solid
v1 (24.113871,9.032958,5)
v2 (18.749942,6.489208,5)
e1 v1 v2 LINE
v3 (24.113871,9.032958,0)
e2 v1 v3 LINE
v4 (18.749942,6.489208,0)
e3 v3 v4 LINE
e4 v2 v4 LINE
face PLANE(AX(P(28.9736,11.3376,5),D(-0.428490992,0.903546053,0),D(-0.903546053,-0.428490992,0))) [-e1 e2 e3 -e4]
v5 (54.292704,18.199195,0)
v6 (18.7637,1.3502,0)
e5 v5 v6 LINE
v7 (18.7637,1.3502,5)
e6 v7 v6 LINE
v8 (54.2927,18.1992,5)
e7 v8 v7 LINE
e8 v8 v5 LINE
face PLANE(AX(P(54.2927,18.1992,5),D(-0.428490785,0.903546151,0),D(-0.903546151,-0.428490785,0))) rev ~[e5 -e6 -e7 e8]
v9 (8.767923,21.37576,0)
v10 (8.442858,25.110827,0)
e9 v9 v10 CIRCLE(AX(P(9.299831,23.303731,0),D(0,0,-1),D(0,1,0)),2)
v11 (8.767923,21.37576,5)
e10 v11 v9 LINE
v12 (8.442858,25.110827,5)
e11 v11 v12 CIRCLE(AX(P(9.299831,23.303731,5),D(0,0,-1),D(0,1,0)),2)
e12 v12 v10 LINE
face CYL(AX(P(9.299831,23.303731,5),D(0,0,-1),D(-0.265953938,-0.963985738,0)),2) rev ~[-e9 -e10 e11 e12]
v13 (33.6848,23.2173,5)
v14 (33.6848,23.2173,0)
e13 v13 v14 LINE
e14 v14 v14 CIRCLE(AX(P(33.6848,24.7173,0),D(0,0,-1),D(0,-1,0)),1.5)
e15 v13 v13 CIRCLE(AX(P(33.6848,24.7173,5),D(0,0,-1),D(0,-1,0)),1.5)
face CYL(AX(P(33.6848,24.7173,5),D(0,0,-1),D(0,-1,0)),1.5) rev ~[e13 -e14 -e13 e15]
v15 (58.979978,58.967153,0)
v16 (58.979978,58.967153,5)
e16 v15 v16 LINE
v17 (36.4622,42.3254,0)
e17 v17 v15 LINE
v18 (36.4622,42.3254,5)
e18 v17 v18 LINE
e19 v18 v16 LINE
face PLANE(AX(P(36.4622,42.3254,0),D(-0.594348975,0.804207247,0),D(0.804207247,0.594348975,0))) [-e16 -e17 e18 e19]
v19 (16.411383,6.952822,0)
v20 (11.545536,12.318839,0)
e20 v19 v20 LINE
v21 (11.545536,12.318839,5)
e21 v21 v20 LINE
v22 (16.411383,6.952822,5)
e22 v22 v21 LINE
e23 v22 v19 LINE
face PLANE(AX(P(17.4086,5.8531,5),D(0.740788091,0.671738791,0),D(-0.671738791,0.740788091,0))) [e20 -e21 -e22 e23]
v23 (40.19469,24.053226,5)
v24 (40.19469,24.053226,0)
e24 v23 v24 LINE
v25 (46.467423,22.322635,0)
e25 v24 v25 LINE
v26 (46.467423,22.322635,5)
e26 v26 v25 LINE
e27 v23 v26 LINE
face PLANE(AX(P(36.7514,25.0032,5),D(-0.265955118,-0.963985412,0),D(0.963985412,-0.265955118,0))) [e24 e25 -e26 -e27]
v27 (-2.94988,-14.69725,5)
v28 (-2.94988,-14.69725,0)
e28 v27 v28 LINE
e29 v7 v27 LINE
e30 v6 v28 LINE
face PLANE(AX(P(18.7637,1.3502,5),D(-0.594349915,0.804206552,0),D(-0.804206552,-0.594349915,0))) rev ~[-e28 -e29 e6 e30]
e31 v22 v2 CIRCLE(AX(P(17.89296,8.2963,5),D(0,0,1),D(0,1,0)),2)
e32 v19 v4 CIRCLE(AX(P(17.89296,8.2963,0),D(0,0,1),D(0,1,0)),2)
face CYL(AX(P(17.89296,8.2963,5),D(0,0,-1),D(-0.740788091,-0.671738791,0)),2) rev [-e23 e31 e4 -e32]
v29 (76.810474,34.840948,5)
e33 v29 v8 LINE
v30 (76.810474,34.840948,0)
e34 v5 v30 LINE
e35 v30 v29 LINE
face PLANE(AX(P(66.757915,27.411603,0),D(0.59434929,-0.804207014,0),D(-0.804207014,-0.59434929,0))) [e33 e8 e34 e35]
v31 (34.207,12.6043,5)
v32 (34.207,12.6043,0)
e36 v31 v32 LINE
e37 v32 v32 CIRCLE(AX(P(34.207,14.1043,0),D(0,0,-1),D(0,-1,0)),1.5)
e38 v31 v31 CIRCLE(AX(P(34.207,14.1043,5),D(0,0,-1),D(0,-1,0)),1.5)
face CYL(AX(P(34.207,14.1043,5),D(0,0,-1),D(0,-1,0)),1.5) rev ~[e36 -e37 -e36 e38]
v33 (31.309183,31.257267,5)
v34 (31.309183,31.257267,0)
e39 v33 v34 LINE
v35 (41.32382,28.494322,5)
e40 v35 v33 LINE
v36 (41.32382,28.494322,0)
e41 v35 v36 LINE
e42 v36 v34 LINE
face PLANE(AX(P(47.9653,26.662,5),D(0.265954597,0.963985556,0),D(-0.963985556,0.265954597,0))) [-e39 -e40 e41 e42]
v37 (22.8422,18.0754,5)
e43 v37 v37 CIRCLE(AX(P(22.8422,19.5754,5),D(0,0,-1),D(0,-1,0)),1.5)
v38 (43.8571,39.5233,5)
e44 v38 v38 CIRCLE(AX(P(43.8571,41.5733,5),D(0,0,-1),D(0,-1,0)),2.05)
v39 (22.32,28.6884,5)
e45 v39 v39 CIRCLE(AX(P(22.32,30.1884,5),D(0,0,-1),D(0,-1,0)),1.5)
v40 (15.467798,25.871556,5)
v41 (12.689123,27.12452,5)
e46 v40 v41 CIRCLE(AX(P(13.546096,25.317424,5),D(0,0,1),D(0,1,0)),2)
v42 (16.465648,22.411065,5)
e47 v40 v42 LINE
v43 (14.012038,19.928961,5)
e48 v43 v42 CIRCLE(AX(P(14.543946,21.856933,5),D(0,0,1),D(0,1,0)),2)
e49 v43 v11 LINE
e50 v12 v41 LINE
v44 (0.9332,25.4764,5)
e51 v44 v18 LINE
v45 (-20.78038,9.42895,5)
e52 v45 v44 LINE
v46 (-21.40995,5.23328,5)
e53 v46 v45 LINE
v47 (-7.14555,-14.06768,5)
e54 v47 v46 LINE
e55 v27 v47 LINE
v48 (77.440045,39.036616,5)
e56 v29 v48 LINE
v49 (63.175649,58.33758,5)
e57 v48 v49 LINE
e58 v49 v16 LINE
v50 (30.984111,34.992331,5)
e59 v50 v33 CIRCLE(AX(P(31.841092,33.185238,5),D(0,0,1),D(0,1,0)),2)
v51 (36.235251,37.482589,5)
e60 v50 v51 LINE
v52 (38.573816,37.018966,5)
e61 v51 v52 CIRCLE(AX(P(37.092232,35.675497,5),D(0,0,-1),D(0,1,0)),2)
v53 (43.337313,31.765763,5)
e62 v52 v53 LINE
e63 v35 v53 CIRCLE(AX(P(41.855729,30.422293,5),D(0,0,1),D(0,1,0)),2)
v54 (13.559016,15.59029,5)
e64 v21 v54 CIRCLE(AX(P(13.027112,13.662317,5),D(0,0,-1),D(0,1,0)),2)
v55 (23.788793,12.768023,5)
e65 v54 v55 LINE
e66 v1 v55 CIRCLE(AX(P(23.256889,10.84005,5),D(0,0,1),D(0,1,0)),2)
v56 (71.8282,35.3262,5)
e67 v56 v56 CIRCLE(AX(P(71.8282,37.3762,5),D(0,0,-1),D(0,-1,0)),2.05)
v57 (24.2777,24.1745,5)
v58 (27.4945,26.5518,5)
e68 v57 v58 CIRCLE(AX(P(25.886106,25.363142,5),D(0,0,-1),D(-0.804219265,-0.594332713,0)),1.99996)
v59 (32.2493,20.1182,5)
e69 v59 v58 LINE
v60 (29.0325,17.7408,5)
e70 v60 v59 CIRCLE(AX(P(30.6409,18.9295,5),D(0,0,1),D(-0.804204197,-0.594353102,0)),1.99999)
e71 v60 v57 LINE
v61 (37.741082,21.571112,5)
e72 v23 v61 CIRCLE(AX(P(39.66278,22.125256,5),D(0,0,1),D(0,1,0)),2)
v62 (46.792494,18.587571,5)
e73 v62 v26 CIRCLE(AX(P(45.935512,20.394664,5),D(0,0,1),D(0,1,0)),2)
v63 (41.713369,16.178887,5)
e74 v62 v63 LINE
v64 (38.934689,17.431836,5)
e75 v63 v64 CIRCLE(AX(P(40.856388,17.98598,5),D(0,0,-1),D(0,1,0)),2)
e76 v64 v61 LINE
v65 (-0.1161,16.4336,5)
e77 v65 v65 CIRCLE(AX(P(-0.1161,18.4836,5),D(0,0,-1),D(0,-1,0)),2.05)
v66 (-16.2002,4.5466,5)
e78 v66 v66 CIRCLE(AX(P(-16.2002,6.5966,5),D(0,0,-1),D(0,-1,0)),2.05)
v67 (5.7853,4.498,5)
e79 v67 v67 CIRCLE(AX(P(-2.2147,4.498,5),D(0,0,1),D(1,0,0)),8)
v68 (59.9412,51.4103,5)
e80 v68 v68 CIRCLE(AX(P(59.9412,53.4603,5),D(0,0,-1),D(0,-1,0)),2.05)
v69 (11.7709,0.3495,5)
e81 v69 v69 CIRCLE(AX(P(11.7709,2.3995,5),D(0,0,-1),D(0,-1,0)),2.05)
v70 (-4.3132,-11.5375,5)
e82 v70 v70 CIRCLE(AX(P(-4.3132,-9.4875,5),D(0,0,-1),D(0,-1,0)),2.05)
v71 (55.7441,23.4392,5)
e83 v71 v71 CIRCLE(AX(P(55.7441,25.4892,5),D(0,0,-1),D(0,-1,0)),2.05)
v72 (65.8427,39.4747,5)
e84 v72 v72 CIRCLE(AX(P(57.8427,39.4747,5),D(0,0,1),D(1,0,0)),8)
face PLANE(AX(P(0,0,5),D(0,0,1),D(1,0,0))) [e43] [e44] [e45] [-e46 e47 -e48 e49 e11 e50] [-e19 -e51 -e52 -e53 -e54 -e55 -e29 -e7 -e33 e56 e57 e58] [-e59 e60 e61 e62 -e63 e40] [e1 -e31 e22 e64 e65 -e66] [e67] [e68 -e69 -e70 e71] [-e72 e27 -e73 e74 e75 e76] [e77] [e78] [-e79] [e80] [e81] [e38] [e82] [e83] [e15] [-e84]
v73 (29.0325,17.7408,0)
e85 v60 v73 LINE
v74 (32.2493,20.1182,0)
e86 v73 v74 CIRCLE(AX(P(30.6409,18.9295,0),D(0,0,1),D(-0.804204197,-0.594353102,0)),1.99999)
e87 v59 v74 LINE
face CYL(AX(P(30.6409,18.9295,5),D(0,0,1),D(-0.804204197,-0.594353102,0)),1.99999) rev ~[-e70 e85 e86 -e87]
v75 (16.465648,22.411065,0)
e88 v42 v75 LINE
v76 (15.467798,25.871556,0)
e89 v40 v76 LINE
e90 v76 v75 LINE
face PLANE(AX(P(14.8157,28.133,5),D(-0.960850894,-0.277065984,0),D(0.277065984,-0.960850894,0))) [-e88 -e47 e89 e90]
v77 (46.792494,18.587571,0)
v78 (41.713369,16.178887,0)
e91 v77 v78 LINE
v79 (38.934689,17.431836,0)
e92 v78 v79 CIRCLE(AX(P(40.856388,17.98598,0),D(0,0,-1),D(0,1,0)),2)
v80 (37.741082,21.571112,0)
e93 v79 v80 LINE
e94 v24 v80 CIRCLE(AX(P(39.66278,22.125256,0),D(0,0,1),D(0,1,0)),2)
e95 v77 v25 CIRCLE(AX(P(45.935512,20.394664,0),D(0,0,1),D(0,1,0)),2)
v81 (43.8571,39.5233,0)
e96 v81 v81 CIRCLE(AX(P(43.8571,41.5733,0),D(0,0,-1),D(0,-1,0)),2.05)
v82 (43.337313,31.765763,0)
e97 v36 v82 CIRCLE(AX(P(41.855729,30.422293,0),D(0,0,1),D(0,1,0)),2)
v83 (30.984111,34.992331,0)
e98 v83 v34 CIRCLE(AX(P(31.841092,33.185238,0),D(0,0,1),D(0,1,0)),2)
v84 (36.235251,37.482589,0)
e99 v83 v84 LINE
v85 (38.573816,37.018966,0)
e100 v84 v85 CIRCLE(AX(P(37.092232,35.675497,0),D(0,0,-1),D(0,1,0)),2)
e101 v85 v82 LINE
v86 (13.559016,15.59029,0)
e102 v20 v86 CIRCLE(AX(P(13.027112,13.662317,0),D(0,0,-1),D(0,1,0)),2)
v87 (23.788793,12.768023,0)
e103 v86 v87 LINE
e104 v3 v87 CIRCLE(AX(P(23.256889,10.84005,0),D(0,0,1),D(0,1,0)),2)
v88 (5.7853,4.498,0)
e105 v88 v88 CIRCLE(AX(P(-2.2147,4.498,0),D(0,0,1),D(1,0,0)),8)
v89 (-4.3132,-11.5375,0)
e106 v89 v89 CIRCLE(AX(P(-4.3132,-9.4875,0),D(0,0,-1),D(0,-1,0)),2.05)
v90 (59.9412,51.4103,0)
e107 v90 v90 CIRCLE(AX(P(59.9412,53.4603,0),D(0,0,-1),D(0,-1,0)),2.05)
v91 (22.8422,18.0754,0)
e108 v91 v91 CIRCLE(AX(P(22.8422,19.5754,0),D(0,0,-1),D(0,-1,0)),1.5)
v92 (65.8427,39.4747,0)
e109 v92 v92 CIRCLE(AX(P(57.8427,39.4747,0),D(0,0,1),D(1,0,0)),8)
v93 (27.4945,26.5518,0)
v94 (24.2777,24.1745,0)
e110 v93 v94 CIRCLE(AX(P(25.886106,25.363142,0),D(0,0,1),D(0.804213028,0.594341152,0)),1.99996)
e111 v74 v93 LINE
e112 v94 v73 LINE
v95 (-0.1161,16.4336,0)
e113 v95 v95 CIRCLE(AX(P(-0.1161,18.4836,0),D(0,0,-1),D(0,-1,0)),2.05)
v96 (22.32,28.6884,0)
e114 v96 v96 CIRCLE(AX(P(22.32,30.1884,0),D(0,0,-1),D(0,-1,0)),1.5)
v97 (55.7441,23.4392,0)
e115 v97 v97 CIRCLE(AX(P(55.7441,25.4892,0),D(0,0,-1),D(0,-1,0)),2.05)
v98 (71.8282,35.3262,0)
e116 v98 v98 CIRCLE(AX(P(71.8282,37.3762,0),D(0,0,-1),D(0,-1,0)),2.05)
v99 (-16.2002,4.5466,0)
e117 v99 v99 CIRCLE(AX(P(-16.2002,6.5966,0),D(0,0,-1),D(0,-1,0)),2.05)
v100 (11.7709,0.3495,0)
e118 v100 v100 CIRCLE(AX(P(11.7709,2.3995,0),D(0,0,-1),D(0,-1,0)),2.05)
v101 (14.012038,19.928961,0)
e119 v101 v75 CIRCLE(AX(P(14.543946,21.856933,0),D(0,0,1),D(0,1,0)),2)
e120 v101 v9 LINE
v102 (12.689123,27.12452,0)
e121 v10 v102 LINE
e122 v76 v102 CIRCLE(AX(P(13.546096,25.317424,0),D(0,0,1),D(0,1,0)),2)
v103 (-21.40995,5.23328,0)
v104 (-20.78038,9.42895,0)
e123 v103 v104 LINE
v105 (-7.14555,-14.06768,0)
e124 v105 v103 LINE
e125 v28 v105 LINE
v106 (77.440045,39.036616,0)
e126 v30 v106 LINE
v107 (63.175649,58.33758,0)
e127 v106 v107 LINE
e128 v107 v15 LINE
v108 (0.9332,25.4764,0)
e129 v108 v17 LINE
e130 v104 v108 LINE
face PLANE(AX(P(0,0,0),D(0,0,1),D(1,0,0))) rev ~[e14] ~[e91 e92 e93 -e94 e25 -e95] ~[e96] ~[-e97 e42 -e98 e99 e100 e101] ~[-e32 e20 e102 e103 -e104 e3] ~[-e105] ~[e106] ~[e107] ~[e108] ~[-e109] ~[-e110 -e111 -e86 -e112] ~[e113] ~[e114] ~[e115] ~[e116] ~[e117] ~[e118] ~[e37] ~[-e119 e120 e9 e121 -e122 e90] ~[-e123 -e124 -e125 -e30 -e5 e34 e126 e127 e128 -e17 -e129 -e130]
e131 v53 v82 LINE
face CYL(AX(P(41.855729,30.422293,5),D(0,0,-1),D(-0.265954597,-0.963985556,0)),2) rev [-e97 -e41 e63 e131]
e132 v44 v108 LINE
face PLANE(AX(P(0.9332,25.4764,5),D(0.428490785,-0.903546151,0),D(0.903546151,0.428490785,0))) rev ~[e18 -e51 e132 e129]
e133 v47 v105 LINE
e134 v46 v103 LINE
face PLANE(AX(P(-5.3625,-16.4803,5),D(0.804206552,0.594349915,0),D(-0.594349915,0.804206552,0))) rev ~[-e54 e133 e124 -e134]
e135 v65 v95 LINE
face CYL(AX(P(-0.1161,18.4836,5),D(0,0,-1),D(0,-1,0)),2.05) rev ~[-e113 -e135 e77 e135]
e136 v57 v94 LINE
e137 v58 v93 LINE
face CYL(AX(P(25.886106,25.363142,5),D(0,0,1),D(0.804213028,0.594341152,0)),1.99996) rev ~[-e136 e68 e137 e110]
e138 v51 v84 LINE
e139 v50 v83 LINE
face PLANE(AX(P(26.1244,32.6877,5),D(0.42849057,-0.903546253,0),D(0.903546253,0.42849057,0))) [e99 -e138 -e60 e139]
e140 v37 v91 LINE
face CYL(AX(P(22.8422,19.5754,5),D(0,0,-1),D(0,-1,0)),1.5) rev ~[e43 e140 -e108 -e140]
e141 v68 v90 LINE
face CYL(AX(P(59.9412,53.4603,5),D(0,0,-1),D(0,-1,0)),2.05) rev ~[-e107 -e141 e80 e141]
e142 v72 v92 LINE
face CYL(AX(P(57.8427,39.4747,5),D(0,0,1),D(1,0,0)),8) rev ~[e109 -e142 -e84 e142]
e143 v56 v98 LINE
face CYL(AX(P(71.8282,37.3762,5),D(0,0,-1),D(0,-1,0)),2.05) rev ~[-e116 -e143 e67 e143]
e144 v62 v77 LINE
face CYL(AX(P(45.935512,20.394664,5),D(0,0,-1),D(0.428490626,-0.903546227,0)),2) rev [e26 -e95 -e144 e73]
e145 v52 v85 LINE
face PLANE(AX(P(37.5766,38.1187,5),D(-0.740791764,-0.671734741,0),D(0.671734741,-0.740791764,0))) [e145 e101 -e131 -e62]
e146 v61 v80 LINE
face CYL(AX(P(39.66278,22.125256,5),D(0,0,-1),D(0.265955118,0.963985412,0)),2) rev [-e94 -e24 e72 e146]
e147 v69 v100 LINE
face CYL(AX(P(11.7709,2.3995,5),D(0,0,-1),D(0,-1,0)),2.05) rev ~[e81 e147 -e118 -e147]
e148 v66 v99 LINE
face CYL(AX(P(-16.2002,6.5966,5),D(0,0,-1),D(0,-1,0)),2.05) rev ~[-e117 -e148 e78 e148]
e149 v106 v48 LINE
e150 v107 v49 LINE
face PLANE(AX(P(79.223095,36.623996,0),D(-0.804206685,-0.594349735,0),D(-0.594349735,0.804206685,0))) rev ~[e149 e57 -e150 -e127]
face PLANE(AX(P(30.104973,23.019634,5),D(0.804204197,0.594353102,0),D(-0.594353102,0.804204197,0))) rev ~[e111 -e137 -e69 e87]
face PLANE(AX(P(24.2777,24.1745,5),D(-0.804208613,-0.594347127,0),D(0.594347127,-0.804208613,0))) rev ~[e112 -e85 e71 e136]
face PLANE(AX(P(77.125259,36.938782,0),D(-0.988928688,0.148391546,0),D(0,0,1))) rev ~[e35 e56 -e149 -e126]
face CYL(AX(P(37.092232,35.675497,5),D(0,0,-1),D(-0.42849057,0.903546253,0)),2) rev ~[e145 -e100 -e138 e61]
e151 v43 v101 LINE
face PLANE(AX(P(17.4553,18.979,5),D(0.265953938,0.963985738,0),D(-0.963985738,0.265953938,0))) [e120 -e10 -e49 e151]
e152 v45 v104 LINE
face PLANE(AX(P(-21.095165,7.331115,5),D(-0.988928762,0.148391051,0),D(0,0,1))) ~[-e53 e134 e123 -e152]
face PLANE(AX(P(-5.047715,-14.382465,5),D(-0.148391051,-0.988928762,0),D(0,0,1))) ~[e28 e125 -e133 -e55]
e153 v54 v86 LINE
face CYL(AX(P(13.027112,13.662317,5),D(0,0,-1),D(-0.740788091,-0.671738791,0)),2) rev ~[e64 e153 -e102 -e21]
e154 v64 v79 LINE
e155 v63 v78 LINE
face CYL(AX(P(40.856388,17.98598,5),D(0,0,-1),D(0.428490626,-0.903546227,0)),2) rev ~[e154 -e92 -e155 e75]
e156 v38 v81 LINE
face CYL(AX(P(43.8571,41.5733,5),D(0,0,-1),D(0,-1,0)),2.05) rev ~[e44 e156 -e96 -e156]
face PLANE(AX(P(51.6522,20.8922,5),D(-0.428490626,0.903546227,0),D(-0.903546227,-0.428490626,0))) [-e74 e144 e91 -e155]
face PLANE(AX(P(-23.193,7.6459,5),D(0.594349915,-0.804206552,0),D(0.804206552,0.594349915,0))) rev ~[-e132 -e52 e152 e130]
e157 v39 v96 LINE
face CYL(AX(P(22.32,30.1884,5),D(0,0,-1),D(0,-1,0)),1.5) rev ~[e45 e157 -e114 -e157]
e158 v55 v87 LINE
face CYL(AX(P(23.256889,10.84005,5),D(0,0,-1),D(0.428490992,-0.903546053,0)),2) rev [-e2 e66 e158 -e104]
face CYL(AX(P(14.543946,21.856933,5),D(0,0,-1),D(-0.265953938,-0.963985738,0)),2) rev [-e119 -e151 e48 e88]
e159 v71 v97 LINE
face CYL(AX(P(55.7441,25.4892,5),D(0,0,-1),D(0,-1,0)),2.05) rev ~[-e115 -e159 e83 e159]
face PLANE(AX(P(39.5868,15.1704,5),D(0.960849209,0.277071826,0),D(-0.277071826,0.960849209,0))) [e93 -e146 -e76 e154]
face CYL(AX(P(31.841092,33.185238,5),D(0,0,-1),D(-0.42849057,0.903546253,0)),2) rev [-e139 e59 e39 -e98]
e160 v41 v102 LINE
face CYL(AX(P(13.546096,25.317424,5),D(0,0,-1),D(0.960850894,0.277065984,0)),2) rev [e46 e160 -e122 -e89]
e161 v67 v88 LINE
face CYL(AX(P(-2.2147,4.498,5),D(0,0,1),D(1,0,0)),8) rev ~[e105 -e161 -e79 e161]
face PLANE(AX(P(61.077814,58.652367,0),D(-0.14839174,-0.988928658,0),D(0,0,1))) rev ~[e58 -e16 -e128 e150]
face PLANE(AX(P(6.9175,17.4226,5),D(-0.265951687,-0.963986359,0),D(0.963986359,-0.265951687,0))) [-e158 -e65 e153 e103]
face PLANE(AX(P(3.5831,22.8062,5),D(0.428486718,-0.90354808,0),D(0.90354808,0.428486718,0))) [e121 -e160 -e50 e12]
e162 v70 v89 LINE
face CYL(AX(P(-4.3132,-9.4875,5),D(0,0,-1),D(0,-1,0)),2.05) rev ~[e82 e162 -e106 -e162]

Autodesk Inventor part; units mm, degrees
ref_plane "YZ Plane" through (0, 0, 0) normal (1, 0, 0) x (0, 1, 0)
ref_plane "XZ Plane" through (0, 0, 0) normal (0, 1, 0) x (-1, 0, 0)
ref_plane "XY Plane" through (0, 0, 0) normal (0, 0, 1) x (1, 0, 0)
sketch "Sketch1" plane through (0, 0, 0) normal (0, 0, 1) x (1, 0, 0)
  line L0 (79.7735, 25.7797) -> (84.0795, 21.6015) projected
  arc A0 (79.9013, 17.2954) -> (84.0795, 21.6015) centre (81.9904, 19.4484) ccw projected
  line L1 (79.9013, 17.2954) -> (75.5952, 21.4737) projected
  arc A1 (79.7735, 25.7797) -> (75.5952, 21.4737) centre (77.6844, 23.6267) ccw projected
  arc A2 (67.2283, 9.1476) -> (72.5711, 11.878) centre (69.8997, 10.5128) ccw projected
  line L2 (67.2283, 9.1476) -> (64.4979, 14.4903) projected
  arc A3 (69.8406, 17.2207) -> (64.4979, 14.4903) centre (67.1692, 15.8555) ccw projected
  line L3 (69.8406, 17.2207) -> (72.5711, 11.878) projected
  circle A4 centre (74.8858, 2.9538) radius 2.075 projected
  circle A5 centre (87.7531, 12.4634) radius 2.075 projected
  circle A6 centre (97.4816, -67.9698) radius 1.5 projected
  circle A7 centre (150.7021, -18.086) radius 1.5 projected
  circle A8 centre (148.9214, -29.9532) radius 1.5 projected
  circle A9 centre (85.6144, -66.1891) radius 1.5 projected
  arc A10 (80.4821, -2.1431) -> (77.7938, -6.6113) centre (99.1499, -16.4177) ccw projected
  arc A11 (83.0041, -2.3614) -> (80.4821, -2.1431) centre (81.6737, -3.0542) ccw projected
  line L4 (85.542, -7.2347) -> (83.0041, -2.3614) projected
  arc A12 (84.6624, -8.6966) -> (85.542, -7.2347) centre (84.655, -7.6966) ccw projected
  line L5 (79.168, -8.7372) -> (84.6624, -8.6966) projected
  arc A13 (77.7938, -6.6113) -> (79.168, -8.7372) centre (79.1569, -7.2373) ccw projected
  arc A14 (113.6374, -24.1387) -> (112.7579, -25.6006) centre (113.6448, -25.1387) ccw projected
  line L6 (119.1319, -24.0981) -> (113.6374, -24.1387) projected
  arc A15 (120.5061, -26.224) -> (119.1319, -24.0981) centre (119.1429, -25.5981) ccw projected
  arc A16 (117.8177, -30.6922) -> (120.5061, -26.224) centre (99.1499, -16.4177) ccw projected
  arc A17 (115.2958, -30.4739) -> (117.8177, -30.6922) centre (116.6262, -29.7811) ccw projected
  line L7 (112.7579, -25.6006) -> (115.2958, -30.4739) projected
  arc A18 (85.0937, -32.5635) -> (84.8754, -35.0855) centre (85.7865, -33.8939) ccw projected
  line L8 (89.967, -30.0256) -> (85.0937, -32.5635) projected
  arc A19 (91.4289, -30.9052) -> (89.967, -30.0256) centre (90.4289, -30.9125) ccw projected
  line L9 (91.4695, -36.3996) -> (91.4289, -30.9052) projected
  arc A20 (89.3436, -37.7738) -> (91.4695, -36.3996) centre (89.9695, -36.4107) ccw projected
  arc A21 (84.8754, -35.0855) -> (89.3436, -37.7738) centre (99.1499, -16.4177) ccw projected
  arc A22 (77.7938, -17.8952) -> (75.8562, -19.5241) centre (77.343, -19.3258) ccw projected
  line L10 (83.0344, -19.5466) -> (77.7938, -17.8952) projected
  arc A23 (83.4461, -21.2023) -> (83.0344, -19.5466) centre (82.7338, -20.5004) ccw projected
  line L11 (79.5897, -25.1161) -> (83.4461, -21.2023) projected
  arc A24 (77.1147, -24.5846) -> (79.5897, -25.1161) centre (78.5212, -24.0633) ccw projected
  arc A25 (75.8562, -19.5241) -> (77.1147, -24.5846) centre (99.1499, -16.4177) ccw projected
  arc A26 (122.4437, -13.3112) -> (121.1852, -8.2507) centre (99.1499, -16.4177) ccw projected
  arc A27 (120.506, -14.9401) -> (122.4437, -13.3112) centre (120.9569, -13.5095) ccw projected
  line L12 (115.2655, -13.2887) -> (120.506, -14.9401) projected
  arc A28 (114.8538, -11.6331) -> (115.2655, -13.2887) centre (115.5661, -12.3349) ccw projected
  line L13 (118.7102, -7.7192) -> (114.8538, -11.6331) projected
  arc A29 (121.1852, -8.2507) -> (118.7102, -7.7192) centre (119.7787, -8.772) ccw projected
  arc A30 (103.9345, -32.1215) -> (102.2789, -32.5332) centre (103.2327, -32.8338) ccw projected
  line L14 (107.8484, -35.9779) -> (103.9345, -32.1215) projected
  arc A31 (107.3169, -38.4529) -> (107.8484, -35.9779) centre (106.7956, -37.0464) ccw projected
  arc A32 (102.2564, -39.7114) -> (107.3169, -38.4529) centre (99.1499, -16.4177) ccw projected
  arc A33 (100.6275, -37.7738) -> (102.2564, -39.7114) centre (102.0581, -38.2246) ccw projected
  line L15 (102.2789, -32.5332) -> (100.6275, -37.7738) projected
  arc A34 (113.4245, 2.2501) -> (108.9563, 4.9385) centre (99.1499, -16.4177) ccw projected
  arc A35 (113.2062, -0.2718) -> (113.4245, 2.2501) centre (112.5134, 1.0586) ccw projected
  line L16 (108.3329, -2.8097) -> (113.2062, -0.2718) projected
  arc A36 (106.871, -1.9302) -> (108.3329, -2.8097) centre (107.871, -1.9228) ccw projected
  line L17 (106.8304, 3.5643) -> (106.871, -1.9302) projected
  arc A37 (108.9563, 4.9385) -> (106.8304, 3.5643) centre (108.3303, 3.5754) ccw projected
  line L18 (90.4515, 3.1426) -> (94.3653, -0.7138) projected
  arc A38 (90.983, 5.6176) -> (90.4515, 3.1426) centre (91.5043, 4.2111) ccw projected
  arc A39 (96.0435, 6.8761) -> (90.983, 5.6176) centre (99.1499, -16.4177) ccw projected
  arc A40 (97.6724, 4.9384) -> (96.0435, 6.8761) centre (96.2417, 5.3893) ccw projected
  line L19 (96.021, -0.3021) -> (97.6724, 4.9384) projected
  arc A41 (94.3653, -0.7138) -> (96.021, -0.3021) centre (95.0672, -0.0015) ccw projected
  circle A42 centre (111.213, -7.5024) radius 1.5 projected
  circle A43 centre (96.7757, -32.2405) radius 2 projected
  circle A44 centre (87.0868, -25.3329) radius 1.5 projected
  circle A45 centre (114.9728, -18.7919) radius 2 projected
  circle A46 centre (101.5242, -0.5948) radius 2 projected
  circle A47 centre (83.3271, -14.0434) radius 2 projected
  circle A48 centre (108.0652, -28.4808) radius 1.5 projected
  circle A49 centre (90.2347, -4.3545) radius 1.5 projected
  circle A50 centre (99.1499, -16.4177) radius 12 projected
  circle A51 centre (57.8427, 39.4747) radius 8 projected
  arc A52 (125.5376, -7.0532) -> (105.1801, 10.9253) centre (99.1499, -16.4177) ccw projected
  line L20 (105.1801, 10.9253) -> (80.5607, 34.8141) projected
  line L21 (80.5607, 34.8141) -> (61.3926, 60.7502) projected
  line L22 (36.4622, 42.3254) -> (61.3926, 60.7502) projected
  line L23 (36.4622, 42.3254) -> (55.6303, 16.3893) projected
  line L24 (55.6303, 16.3893) -> (71.2413, -14.1572) projected
  arc A53 (71.2413, -14.1572) -> (82.4532, -38.8947) centre (99.1499, -16.4177) ccw projected
  arc A54 (84.8089, -44.6016) -> (82.4532, -38.8947) centre (78.8753, -43.7112) ccw projected
  line L25 (84.8089, -44.6016) -> (81.0991, -69.3248) projected
  line L26 (81.0991, -69.3248) -> (100.8777, -72.2926) projected
  line L27 (100.8777, -72.2926) -> (104.5875, -47.5694) projected
  arc A55 (108.5144, -42.8053) -> (104.5875, -47.5694) centre (110.521, -48.4598) ccw projected
  arc A56 (108.5144, -42.8053) -> (121.627, -33.1144) centre (99.1499, -16.4177) ccw projected
  arc A57 (127.3339, -30.7587) -> (121.627, -33.1144) centre (126.4435, -36.6923) ccw projected
  line L28 (127.3339, -30.7587) -> (152.0571, -34.4685) projected
  line L29 (152.0571, -34.4685) -> (155.0249, -14.6899) projected
  line L30 (155.0249, -14.6899) -> (130.3017, -10.9801) projected
  arc A58 (125.5376, -7.0532) -> (130.3017, -10.9801) centre (131.1921, -5.0465) ccw projected
  line L31 (57.8427, 39.4747) -> (99.1499, -16.4177)
  line L32 (57.8427, 39.4747) -> (1.9503, -1.8326)
  line L33 (-1.5997, -23.1081) -> (-19.4302, 1.0181)
  line L34 (-19.4302, 1.0181) -> (61.3926, 60.7502)
  line L35 (61.3926, 60.7502) -> (79.2231, 36.624)
  line L36 (79.2231, 36.624) -> (-1.5997, -23.1081)
  line L37 (-1.5997, -23.1081) -> (61.3926, 60.7502) construction
  line L38 (-19.4302, 1.0181) -> (79.2231, 36.624) construction
  circle A59 centre (55.7441, 25.4892) radius 1.5 projected
  circle A60 centre (59.9412, 53.4603) radius 1.5 projected
  circle A61 centre (71.8282, 37.3762) radius 1.5 projected
  circle A62 centre (43.8571, 41.5733) radius 1.5 projected
  point P0 (0, 0)
  point P1 (29.8965, 18.8211)
  dimension "d0" = 69.5
  dimension "d1" = 30
  dimension "d2" = 100.5
extrude "Extrusion1" add sketch "Sketch1" along normal blind 5 contours L36 L23 L32 A51 L31 | L31 A51 L32 L23 L22 L21 L36 | L31 L32 A51 | A51 L32 L31 | L36 L33 L34 L23 | A59 | A60 | A61 | A62
sketch "Sketch2" plane through (0, 0, 5) normal (0, 0, 1) x (1, 0, 0)
  circle A0 centre (57.8427, 39.4747) radius 8 projected
  circle A1 centre (57.8427, 39.4747) radius 8
  point P0 (0, 0)
  dimension "d5" = 16
extrude "Extrusion2" cut sketch "Sketch2" against normal blind 5
sketch "Sketch3" plane through (0, 0, 5) normal (0, 0, 1) x (1, 0, 0)
  circle A0 centre (57.8427, 39.4747) radius 8 projected
  line L0 (79.2231, 36.624) -> (61.3926, 60.7502) projected
  line L1 (61.3926, 60.7502) -> (-19.4302, 1.0181) projected
  line L2 (-19.4302, 1.0181) -> (-1.5997, -23.1081) projected
  line L3 (-1.5997, -23.1081) -> (79.2231, 36.624) projected
  line L4 (43.8571, 41.5733) -> (55.7441, 25.4892)
  line L5 (55.7441, 25.4892) -> (71.8282, 37.3762)
  line L6 (71.8282, 37.3762) -> (59.9412, 53.4603)
  line L7 (59.9412, 53.4603) -> (43.8571, 41.5733)
  line L8 (43.8571, 41.5733) -> (71.8282, 37.3762) construction
  line L9 (55.7441, 25.4892) -> (59.9412, 53.4603) construction
  point P0 (0, 0)
  dimension "d8" = 20
  dimension "d9" = 20
hole "Hole1" at (43.8571, 41.5733, 5) at (59.9412, 53.4603, 5) at (71.8282, 37.3762, 5) at (55.7441, 25.4892, 5) direction (0, 0, -1) diameter 3 depth 17
sketch "Sketch10" plane through (0, 0, 5) normal (0, 0, 1) x (1, 0, 0)
  circle A0 centre (71.8282, 37.3762) radius 1.5 projected
  circle A1 centre (43.8571, 41.5733) radius 1.5 projected
  circle A2 centre (59.9412, 53.4603) radius 1.5 projected
  circle A3 centre (55.7441, 25.4892) radius 1.5 projected
  circle A4 centre (57.8427, 39.4747) radius 8 projected
  line L0 (-1.5997, -23.1081) -> (79.2231, 36.624) projected
  line L1 (79.2231, 36.624) -> (61.3926, 60.7502) projected
  line L2 (61.3926, 60.7502) -> (-19.4302, 1.0181) projected
  line L3 (-19.4302, 1.0181) -> (-1.5997, -23.1081) projected
  line L4 (36.4622, 42.3254) -> (54.2927, 18.1992) projected
  point P0 (0, 0)
extrude "Extrusion8" cut sketch "Sketch10" against normal blind 10 contours L3 L2 L4 L0
sketch "Sketch11" plane through (0, 0, 5) normal (0, 0, 1) x (1, 0, 0)
  circle A0 centre (-2.2147, 4.498) radius 4.075 projected
  line L0 (54.2927, 18.1992) -> (79.2231, 36.624) projected
  line L1 (36.4622, 42.3254) -> (54.2927, 18.1992) projected
  line L2 (0.9332, 25.4764) -> (18.7637, 1.3502)
  line L3 (18.7637, 1.3502) -> (-5.3625, -16.4803)
  line L4 (-5.3625, -16.4803) -> (-23.193, 7.6459)
  line L5 (-23.193, 7.6459) -> (0.9332, 25.4764)
  line L6 (0.9332, 25.4764) -> (-5.3625, -16.4803) construction
  line L7 (18.7637, 1.3502) -> (-23.193, 7.6459) construction
  line L8 (54.2927, 18.1992) -> (18.7637, 1.3502)
  line L9 (0.9332, 25.4764) -> (36.4622, 42.3254)
  point P0 (0, 0)
  dimension "d42" = 30
  dimension "d43" = 30
extrude "Extrusion9" add sketch "Sketch11" against normal blind 5
sketch "Sketch12" plane through (0, 0, 5) normal (0, 0, 1) x (1, 0, 0)
  circle A0 centre (-2.2147, 4.498) radius 4.075 projected
  line L0 (54.2927, 18.1992) -> (79.2231, 36.624) projected
  line L1 (79.2231, 36.624) -> (61.3926, 60.7502) projected
  line L2 (61.3926, 60.7502) -> (36.4622, 42.3254) projected
  line L3 (36.4622, 42.3254) -> (0.9332, 25.4764) projected
  line L4 (0.9332, 25.4764) -> (-23.193, 7.6459) projected
  line L5 (-23.193, 7.6459) -> (-5.3625, -16.4803) projected
  line L6 (-5.3625, -16.4803) -> (18.7637, 1.3502) projected
  line L7 (18.7637, 1.3502) -> (54.2927, 18.1992) projected
  circle A1 centre (71.8282, 37.3762) radius 1.5 projected
  circle A2 centre (43.8571, 41.5733) radius 1.5 projected
  circle A3 centre (59.9412, 53.4603) radius 1.5 projected
  circle A4 centre (55.7441, 25.4892) radius 1.5 projected
  circle A5 centre (57.8427, 39.4747) radius 8 projected
  circle A6 centre (-2.2147, 4.498) radius 8
  line L8 (-0.1161, 18.4836) -> (-16.2002, 6.5966)
  line L9 (-16.2002, 6.5966) -> (-4.3132, -9.4875)
  line L10 (-4.3132, -9.4875) -> (11.7709, 2.3995)
  line L11 (11.7709, 2.3995) -> (-0.1161, 18.4836)
  line L12 (-0.1161, 18.4836) -> (-4.3132, -9.4875) construction
  line L13 (-16.2002, 6.5966) -> (11.7709, 2.3995) construction
  line L14 (-5.3625, -16.4803) -> (18.7637, 1.3502) projected
  circle A7 centre (11.7709, 2.3995) radius 1.5
  circle A8 centre (-4.3132, -9.4875) radius 1.5
  circle A9 centre (-16.2002, 6.5966) radius 1.5
  circle A10 centre (-0.1161, 18.4836) radius 1.5
  point P0 (0, 0)
  dimension "d46" = 16
  dimension "d47" = 20
  dimension "d48" = 20
  dimension "d49" = 3
  dimension "d50" = 3
  dimension "d51" = 3
  dimension "d52" = 3
extrude "Extrusion10" cut sketch "Sketch12" against normal blind 5 contours A0 | A6 | L11 A10 L8 | L8 A10 L11 | A9 L9 L8 | L8 L9 A9 | A7 L10 L11 | L11 L10 A7 | A8 L10 L9 | L9 L10 A8
sketch "Sketch13" plane through (0, 0, 5) normal (0, 0, 1) x (1, 0, 0)
  circle A0 centre (-16.2002, 6.5966) radius 1.5 projected
  circle A1 centre (-0.1161, 18.4836) radius 1.5 projected
  circle A2 centre (-4.3132, -9.4875) radius 1.5 projected
  circle A3 centre (-2.2147, 4.498) radius 8 projected
  circle A4 centre (11.7709, 2.3995) radius 1.5 projected
  line L0 (54.2927, 18.1992) -> (79.2231, 36.624) projected
  line L1 (79.2231, 36.624) -> (61.3926, 60.7502) projected
  line L2 (61.3926, 60.7502) -> (36.4622, 42.3254) projected
  line L3 (36.4622, 42.3254) -> (0.9332, 25.4764) projected
  line L4 (0.9332, 25.4764) -> (-23.193, 7.6459) projected
  line L5 (-23.193, 7.6459) -> (-5.3625, -16.4803) projected
  line L6 (-5.3625, -16.4803) -> (18.7637, 1.3502) projected
  line L7 (18.7637, 1.3502) -> (54.2927, 18.1992) projected
  circle A5 centre (71.8282, 37.3762) radius 1.5 projected
  circle A6 centre (43.8571, 41.5733) radius 1.5 projected
  circle A7 centre (59.9412, 53.4603) radius 1.5 projected
  circle A8 centre (55.7441, 25.4892) radius 1.5 projected
  circle A9 centre (57.8427, 39.4747) radius 8 projected
  point P0 (0, 0)
hole "Hole3" at (71.8282, 37.3762, 5) at (55.7441, 25.4892, 5) at (43.8571, 41.5733, 5) at (59.9412, 53.4603, 5) at (11.7709, 2.3995, 5) at (-4.3132, -9.4875, 5) at (-0.1161, 18.4836, 5) at (-16.2002, 6.5966, 5) direction (0, 0, -1) diameter 4.1 depth 17
chamfer "Chamfer1" distance 3 angle 45 4 edges at (61.3926, 60.7502, 2.5) (79.2231, 36.624, 2.5) (-23.193, 7.6459, 2.5) (-5.3625, -16.4803, 2.5)
sketch "Sketch14" plane through (0, 0, 5) normal (0, 0, 1) x (1, 0, 0)
  line L0 (27.9353, 39.4155) -> (10.5493, 29.2901) projected
  line L1 (10.5493, 29.2901) -> (26.1882, 8.1293) projected
  line L2 (30.6819, 7.0022) -> (26.1882, 8.1293) projected
  line L3 (30.6819, 7.0022) -> (43.6756, 13.1643) projected
  line L4 (44.6032, 16.8624) -> (43.6756, 13.1643) projected
  line L5 (44.6032, 16.8624) -> (27.9353, 39.4155) projected
  circle A0 centre (33.6848, 24.7173) radius 1.5 projected
  circle A1 centre (22.8422, 19.5754) radius 1.5 projected
  circle A2 centre (34.207, 14.1043) radius 1.5 projected
  circle A3 centre (22.32, 30.1884) radius 1.5 projected
  point P0 (0, 0)
hole "Hole4" at (34.207, 14.1043, 5) at (33.6848, 24.7173, 5) at (22.8422, 19.5754, 5) at (22.32, 30.1884, 5) direction (0, 0, -1) diameter 3 depth 17
sketch "Sketch15" plane through (0, 0, 5) normal (0, 0, 1) x (1, 0, 0)
  circle A0 centre (22.8422, 19.5754) radius 1.5 projected
  circle A1 centre (34.207, 14.1043) radius 1.5 projected
  circle A2 centre (33.6848, 24.7173) radius 1.5 projected
  circle A3 centre (22.32, 30.1884) radius 1.5 projected
  line L0 (-2.9499, -14.6972) -> (-7.1456, -14.0677) projected
  line L1 (-2.9499, -14.6972) -> (18.7637, 1.3502) projected
  line L2 (18.7637, 1.3502) -> (54.2927, 18.1992) projected
  line L3 (54.2927, 18.1992) -> (76.8105, 34.841) projected
  line L4 (77.4401, 39.0367) -> (76.8105, 34.841) projected
  line L5 (77.4401, 39.0367) -> (63.1757, 58.3376) projected
  line L6 (58.98, 58.9672) -> (63.1757, 58.3376) projected
  line L7 (58.98, 58.9672) -> (36.4622, 42.3254) projected
  line L8 (36.4622, 42.3254) -> (0.9332, 25.4764) projected
  line L9 (0.9332, 25.4764) -> (-20.7804, 9.429) projected
  line L10 (-21.41, 5.2333) -> (-20.7804, 9.429) projected
  line L11 (-21.41, 5.2333) -> (-7.1456, -14.0677) projected
  circle A4 centre (-0.1161, 18.4836) radius 2.05 projected
  circle A5 centre (11.7709, 2.3995) radius 2.05 projected
  circle A6 centre (43.8571, 41.5733) radius 2.05 projected
  circle A7 centre (71.8282, 37.3762) radius 2.05 projected
  circle A8 centre (55.7441, 25.4892) radius 2.05 projected
  circle A9 centre (59.9412, 53.4603) radius 2.05 projected
  circle A10 centre (-4.3132, -9.4875) radius 2.05 projected
  circle A11 centre (-16.2002, 6.5966) radius 2.05 projected
  circle A12 centre (-2.2147, 4.498) radius 8 projected
  circle A13 centre (57.8427, 39.4747) radius 8 projected
  line L12 (3.5831, 22.8062) -> (14.8157, 28.133)
  line L13 (14.8157, 28.133) -> (17.4553, 18.979)
  line L14 (17.4553, 18.979) -> (3.5831, 22.8062)
  line L15 (6.9175, 17.4226) -> (28.9736, 11.3376)
  line L16 (28.9736, 11.3376) -> (17.4086, 5.8531)
  line L17 (17.4086, 5.8531) -> (6.9175, 17.4226)
  line L18 (36.4622, 42.3254) -> (0.9332, 25.4764) projected
  line L19 (39.5868, 15.1704) -> (36.7514, 25.0032)
  line L20 (36.7514, 25.0032) -> (51.6522, 20.8922)
  line L21 (51.6522, 20.8922) -> (39.5868, 15.1704)
  line L22 (37.5766, 38.1187) -> (47.9653, 26.662)
  line L23 (47.9653, 26.662) -> (26.1244, 32.6877)
  line L24 (26.1244, 32.6877) -> (37.5766, 38.1187)
  point P0 (0, 0)
extrude "Extrusion11" cut sketch "Sketch15" against normal blind 10 contours L12 L13 L14 | L15 L16 L17 | L19 L20 L21 | L22 L23 L24
fillet "Fillet1" radius 2 12 edges at (6.9175, 17.4226, 2.5) (28.9736, 11.3376, 2.5) (17.4086, 5.8531, 2.5) (17.4553, 18.979, 2.5) (3.5831, 22.8062, 2.5) (14.8157, 28.133, 2.5) (26.1244, 32.6877, 2.5) (37.5766, 38.1187, 2.5) (47.9653, 26.662, 2.5) (51.6522, 20.8922, 2.5) (36.7514, 25.0032, 2.5) (39.5868, 15.1704, 2.5)
sketch "Sketch16" plane through (0, 0, 5) normal (0, 0, 1) x (1, 0, 0)
  line L0 (41.3238, 28.4943) -> (31.3092, 31.2573) projected
  arc A0 (30.9841, 34.9923) -> (31.3092, 31.2573) centre (31.8411, 33.1852) ccw projected
  line L1 (30.9841, 34.9923) -> (36.2352, 37.4826) projected
  arc A1 (38.5738, 37.019) -> (36.2352, 37.4826) centre (37.0922, 35.6755) ccw projected
  line L2 (38.5738, 37.019) -> (43.3373, 31.7658) projected
  arc A2 (41.3238, 28.4943) -> (43.3373, 31.7658) centre (41.8557, 30.4223) ccw projected
  line L3 (13.559, 15.5903) -> (23.7888, 12.768) projected
  arc A3 (24.1139, 9.0329) -> (23.7888, 12.768) centre (23.2569, 10.84) ccw projected
  line L4 (24.1139, 9.0329) -> (18.7499, 6.4892) projected
  arc A4 (16.4114, 6.9528) -> (18.7499, 6.4892) centre (17.893, 8.2963) ccw projected
  line L5 (16.4114, 6.9528) -> (11.5455, 12.3189) projected
  arc A5 (13.559, 15.5903) -> (11.5455, 12.3189) centre (13.0271, 13.6623) ccw projected
  line L6 (46.7925, 18.5876) -> (41.7134, 16.1789) projected
  arc A6 (38.9347, 17.4319) -> (41.7134, 16.1789) centre (40.8564, 17.986) ccw projected
  line L7 (38.9347, 17.4319) -> (37.7411, 21.5711) projected
  arc A7 (40.1947, 24.0532) -> (37.7411, 21.5711) centre (39.6628, 22.1252) ccw projected
  line L8 (40.1947, 24.0532) -> (46.4674, 22.3226) projected
  arc A8 (46.7925, 18.5876) -> (46.4674, 22.3226) centre (45.9355, 20.3947) ccw projected
  line L9 (14.012, 19.9289) -> (8.7678, 21.3758) projected
  arc A9 (8.4428, 25.1108) -> (8.7678, 21.3758) centre (9.2998, 23.3037) ccw projected
  line L10 (8.4428, 25.1108) -> (12.6891, 27.1246) projected
  arc A10 (15.4678, 25.8716) -> (12.6891, 27.1246) centre (13.5461, 25.3175) ccw projected
  line L11 (15.4678, 25.8716) -> (16.4656, 22.411) projected
  arc A11 (14.012, 19.9289) -> (16.4656, 22.411) centre (14.5439, 21.8569) ccw projected
  circle A12 centre (22.8422, 19.5754) radius 1.5 projected
  circle A13 centre (34.207, 14.1043) radius 1.5 projected
  circle A14 centre (33.6848, 24.7173) radius 1.5 projected
  circle A15 centre (22.32, 30.1884) radius 1.5 projected
  line L12 (-2.9499, -14.6972) -> (-7.1456, -14.0677) projected
  line L13 (-2.9499, -14.6972) -> (18.7637, 1.3502) projected
  line L14 (18.7637, 1.3502) -> (54.2927, 18.1992) projected
  line L15 (54.2927, 18.1992) -> (76.8105, 34.841) projected
  line L16 (77.4401, 39.0367) -> (76.8105, 34.841) projected
  line L17 (77.4401, 39.0367) -> (63.1757, 58.3376) projected
  line L18 (58.98, 58.9672) -> (63.1757, 58.3376) projected
  line L19 (58.98, 58.9672) -> (36.4622, 42.3254) projected
  line L20 (36.4622, 42.3254) -> (0.9332, 25.4764) projected
  line L21 (0.9332, 25.4764) -> (-20.7804, 9.429) projected
  line L22 (-21.41, 5.2333) -> (-20.7804, 9.429) projected
  line L23 (-21.41, 5.2333) -> (-7.1456, -14.0677) projected
  circle A16 centre (-0.1161, 18.4836) radius 2.05 projected
  circle A17 centre (11.7709, 2.3995) radius 2.05 projected
  circle A18 centre (43.8571, 41.5733) radius 2.05 projected
  circle A19 centre (71.8282, 37.3762) radius 2.05 projected
  circle A20 centre (55.7441, 25.4892) radius 2.05 projected
  circle A21 centre (59.9412, 53.4603) radius 2.05 projected
  circle A22 centre (-4.3132, -9.4875) radius 2.05 projected
  circle A23 centre (-16.2002, 6.5966) radius 2.05 projected
  circle A24 centre (-2.2147, 4.498) radius 8 projected
  circle A25 centre (57.8427, 39.4747) radius 8 projected
  circle A26 centre (22.8422, 19.5754) radius 1.5 projected
  line L24 (22.8422, 19.5754) -> (33.6848, 24.7173)
  line L25 (34.207, 14.1043) -> (22.32, 30.1884)
  line L26 (25.8861, 25.3631) -> (30.6409, 18.9295) construction
  line L27 (24.2777, 24.1745) -> (29.0325, 17.7408)
  line L28 (32.2493, 20.1182) -> (27.4945, 26.5518)
  arc A27 (27.4945, 26.5518) -> (24.2777, 24.1745) centre (25.8861, 25.3631) ccw
  arc A28 (29.0325, 17.7408) -> (32.2493, 20.1182) centre (30.6409, 18.9295) ccw
  point P0 (0, 0)
  point P1 (28.2635, 22.1463)
  dimension "d75" = 4
  dimension "d76" = 4
extrude "Extrusion12" cut sketch "Sketch16" against normal blind 10 contours L27 A27 L25 L24 | L24 L25 A28 L27 | L25 A27 L28 L24 | L24 L28 A28 L25
properties part number "motor_holder_5"
